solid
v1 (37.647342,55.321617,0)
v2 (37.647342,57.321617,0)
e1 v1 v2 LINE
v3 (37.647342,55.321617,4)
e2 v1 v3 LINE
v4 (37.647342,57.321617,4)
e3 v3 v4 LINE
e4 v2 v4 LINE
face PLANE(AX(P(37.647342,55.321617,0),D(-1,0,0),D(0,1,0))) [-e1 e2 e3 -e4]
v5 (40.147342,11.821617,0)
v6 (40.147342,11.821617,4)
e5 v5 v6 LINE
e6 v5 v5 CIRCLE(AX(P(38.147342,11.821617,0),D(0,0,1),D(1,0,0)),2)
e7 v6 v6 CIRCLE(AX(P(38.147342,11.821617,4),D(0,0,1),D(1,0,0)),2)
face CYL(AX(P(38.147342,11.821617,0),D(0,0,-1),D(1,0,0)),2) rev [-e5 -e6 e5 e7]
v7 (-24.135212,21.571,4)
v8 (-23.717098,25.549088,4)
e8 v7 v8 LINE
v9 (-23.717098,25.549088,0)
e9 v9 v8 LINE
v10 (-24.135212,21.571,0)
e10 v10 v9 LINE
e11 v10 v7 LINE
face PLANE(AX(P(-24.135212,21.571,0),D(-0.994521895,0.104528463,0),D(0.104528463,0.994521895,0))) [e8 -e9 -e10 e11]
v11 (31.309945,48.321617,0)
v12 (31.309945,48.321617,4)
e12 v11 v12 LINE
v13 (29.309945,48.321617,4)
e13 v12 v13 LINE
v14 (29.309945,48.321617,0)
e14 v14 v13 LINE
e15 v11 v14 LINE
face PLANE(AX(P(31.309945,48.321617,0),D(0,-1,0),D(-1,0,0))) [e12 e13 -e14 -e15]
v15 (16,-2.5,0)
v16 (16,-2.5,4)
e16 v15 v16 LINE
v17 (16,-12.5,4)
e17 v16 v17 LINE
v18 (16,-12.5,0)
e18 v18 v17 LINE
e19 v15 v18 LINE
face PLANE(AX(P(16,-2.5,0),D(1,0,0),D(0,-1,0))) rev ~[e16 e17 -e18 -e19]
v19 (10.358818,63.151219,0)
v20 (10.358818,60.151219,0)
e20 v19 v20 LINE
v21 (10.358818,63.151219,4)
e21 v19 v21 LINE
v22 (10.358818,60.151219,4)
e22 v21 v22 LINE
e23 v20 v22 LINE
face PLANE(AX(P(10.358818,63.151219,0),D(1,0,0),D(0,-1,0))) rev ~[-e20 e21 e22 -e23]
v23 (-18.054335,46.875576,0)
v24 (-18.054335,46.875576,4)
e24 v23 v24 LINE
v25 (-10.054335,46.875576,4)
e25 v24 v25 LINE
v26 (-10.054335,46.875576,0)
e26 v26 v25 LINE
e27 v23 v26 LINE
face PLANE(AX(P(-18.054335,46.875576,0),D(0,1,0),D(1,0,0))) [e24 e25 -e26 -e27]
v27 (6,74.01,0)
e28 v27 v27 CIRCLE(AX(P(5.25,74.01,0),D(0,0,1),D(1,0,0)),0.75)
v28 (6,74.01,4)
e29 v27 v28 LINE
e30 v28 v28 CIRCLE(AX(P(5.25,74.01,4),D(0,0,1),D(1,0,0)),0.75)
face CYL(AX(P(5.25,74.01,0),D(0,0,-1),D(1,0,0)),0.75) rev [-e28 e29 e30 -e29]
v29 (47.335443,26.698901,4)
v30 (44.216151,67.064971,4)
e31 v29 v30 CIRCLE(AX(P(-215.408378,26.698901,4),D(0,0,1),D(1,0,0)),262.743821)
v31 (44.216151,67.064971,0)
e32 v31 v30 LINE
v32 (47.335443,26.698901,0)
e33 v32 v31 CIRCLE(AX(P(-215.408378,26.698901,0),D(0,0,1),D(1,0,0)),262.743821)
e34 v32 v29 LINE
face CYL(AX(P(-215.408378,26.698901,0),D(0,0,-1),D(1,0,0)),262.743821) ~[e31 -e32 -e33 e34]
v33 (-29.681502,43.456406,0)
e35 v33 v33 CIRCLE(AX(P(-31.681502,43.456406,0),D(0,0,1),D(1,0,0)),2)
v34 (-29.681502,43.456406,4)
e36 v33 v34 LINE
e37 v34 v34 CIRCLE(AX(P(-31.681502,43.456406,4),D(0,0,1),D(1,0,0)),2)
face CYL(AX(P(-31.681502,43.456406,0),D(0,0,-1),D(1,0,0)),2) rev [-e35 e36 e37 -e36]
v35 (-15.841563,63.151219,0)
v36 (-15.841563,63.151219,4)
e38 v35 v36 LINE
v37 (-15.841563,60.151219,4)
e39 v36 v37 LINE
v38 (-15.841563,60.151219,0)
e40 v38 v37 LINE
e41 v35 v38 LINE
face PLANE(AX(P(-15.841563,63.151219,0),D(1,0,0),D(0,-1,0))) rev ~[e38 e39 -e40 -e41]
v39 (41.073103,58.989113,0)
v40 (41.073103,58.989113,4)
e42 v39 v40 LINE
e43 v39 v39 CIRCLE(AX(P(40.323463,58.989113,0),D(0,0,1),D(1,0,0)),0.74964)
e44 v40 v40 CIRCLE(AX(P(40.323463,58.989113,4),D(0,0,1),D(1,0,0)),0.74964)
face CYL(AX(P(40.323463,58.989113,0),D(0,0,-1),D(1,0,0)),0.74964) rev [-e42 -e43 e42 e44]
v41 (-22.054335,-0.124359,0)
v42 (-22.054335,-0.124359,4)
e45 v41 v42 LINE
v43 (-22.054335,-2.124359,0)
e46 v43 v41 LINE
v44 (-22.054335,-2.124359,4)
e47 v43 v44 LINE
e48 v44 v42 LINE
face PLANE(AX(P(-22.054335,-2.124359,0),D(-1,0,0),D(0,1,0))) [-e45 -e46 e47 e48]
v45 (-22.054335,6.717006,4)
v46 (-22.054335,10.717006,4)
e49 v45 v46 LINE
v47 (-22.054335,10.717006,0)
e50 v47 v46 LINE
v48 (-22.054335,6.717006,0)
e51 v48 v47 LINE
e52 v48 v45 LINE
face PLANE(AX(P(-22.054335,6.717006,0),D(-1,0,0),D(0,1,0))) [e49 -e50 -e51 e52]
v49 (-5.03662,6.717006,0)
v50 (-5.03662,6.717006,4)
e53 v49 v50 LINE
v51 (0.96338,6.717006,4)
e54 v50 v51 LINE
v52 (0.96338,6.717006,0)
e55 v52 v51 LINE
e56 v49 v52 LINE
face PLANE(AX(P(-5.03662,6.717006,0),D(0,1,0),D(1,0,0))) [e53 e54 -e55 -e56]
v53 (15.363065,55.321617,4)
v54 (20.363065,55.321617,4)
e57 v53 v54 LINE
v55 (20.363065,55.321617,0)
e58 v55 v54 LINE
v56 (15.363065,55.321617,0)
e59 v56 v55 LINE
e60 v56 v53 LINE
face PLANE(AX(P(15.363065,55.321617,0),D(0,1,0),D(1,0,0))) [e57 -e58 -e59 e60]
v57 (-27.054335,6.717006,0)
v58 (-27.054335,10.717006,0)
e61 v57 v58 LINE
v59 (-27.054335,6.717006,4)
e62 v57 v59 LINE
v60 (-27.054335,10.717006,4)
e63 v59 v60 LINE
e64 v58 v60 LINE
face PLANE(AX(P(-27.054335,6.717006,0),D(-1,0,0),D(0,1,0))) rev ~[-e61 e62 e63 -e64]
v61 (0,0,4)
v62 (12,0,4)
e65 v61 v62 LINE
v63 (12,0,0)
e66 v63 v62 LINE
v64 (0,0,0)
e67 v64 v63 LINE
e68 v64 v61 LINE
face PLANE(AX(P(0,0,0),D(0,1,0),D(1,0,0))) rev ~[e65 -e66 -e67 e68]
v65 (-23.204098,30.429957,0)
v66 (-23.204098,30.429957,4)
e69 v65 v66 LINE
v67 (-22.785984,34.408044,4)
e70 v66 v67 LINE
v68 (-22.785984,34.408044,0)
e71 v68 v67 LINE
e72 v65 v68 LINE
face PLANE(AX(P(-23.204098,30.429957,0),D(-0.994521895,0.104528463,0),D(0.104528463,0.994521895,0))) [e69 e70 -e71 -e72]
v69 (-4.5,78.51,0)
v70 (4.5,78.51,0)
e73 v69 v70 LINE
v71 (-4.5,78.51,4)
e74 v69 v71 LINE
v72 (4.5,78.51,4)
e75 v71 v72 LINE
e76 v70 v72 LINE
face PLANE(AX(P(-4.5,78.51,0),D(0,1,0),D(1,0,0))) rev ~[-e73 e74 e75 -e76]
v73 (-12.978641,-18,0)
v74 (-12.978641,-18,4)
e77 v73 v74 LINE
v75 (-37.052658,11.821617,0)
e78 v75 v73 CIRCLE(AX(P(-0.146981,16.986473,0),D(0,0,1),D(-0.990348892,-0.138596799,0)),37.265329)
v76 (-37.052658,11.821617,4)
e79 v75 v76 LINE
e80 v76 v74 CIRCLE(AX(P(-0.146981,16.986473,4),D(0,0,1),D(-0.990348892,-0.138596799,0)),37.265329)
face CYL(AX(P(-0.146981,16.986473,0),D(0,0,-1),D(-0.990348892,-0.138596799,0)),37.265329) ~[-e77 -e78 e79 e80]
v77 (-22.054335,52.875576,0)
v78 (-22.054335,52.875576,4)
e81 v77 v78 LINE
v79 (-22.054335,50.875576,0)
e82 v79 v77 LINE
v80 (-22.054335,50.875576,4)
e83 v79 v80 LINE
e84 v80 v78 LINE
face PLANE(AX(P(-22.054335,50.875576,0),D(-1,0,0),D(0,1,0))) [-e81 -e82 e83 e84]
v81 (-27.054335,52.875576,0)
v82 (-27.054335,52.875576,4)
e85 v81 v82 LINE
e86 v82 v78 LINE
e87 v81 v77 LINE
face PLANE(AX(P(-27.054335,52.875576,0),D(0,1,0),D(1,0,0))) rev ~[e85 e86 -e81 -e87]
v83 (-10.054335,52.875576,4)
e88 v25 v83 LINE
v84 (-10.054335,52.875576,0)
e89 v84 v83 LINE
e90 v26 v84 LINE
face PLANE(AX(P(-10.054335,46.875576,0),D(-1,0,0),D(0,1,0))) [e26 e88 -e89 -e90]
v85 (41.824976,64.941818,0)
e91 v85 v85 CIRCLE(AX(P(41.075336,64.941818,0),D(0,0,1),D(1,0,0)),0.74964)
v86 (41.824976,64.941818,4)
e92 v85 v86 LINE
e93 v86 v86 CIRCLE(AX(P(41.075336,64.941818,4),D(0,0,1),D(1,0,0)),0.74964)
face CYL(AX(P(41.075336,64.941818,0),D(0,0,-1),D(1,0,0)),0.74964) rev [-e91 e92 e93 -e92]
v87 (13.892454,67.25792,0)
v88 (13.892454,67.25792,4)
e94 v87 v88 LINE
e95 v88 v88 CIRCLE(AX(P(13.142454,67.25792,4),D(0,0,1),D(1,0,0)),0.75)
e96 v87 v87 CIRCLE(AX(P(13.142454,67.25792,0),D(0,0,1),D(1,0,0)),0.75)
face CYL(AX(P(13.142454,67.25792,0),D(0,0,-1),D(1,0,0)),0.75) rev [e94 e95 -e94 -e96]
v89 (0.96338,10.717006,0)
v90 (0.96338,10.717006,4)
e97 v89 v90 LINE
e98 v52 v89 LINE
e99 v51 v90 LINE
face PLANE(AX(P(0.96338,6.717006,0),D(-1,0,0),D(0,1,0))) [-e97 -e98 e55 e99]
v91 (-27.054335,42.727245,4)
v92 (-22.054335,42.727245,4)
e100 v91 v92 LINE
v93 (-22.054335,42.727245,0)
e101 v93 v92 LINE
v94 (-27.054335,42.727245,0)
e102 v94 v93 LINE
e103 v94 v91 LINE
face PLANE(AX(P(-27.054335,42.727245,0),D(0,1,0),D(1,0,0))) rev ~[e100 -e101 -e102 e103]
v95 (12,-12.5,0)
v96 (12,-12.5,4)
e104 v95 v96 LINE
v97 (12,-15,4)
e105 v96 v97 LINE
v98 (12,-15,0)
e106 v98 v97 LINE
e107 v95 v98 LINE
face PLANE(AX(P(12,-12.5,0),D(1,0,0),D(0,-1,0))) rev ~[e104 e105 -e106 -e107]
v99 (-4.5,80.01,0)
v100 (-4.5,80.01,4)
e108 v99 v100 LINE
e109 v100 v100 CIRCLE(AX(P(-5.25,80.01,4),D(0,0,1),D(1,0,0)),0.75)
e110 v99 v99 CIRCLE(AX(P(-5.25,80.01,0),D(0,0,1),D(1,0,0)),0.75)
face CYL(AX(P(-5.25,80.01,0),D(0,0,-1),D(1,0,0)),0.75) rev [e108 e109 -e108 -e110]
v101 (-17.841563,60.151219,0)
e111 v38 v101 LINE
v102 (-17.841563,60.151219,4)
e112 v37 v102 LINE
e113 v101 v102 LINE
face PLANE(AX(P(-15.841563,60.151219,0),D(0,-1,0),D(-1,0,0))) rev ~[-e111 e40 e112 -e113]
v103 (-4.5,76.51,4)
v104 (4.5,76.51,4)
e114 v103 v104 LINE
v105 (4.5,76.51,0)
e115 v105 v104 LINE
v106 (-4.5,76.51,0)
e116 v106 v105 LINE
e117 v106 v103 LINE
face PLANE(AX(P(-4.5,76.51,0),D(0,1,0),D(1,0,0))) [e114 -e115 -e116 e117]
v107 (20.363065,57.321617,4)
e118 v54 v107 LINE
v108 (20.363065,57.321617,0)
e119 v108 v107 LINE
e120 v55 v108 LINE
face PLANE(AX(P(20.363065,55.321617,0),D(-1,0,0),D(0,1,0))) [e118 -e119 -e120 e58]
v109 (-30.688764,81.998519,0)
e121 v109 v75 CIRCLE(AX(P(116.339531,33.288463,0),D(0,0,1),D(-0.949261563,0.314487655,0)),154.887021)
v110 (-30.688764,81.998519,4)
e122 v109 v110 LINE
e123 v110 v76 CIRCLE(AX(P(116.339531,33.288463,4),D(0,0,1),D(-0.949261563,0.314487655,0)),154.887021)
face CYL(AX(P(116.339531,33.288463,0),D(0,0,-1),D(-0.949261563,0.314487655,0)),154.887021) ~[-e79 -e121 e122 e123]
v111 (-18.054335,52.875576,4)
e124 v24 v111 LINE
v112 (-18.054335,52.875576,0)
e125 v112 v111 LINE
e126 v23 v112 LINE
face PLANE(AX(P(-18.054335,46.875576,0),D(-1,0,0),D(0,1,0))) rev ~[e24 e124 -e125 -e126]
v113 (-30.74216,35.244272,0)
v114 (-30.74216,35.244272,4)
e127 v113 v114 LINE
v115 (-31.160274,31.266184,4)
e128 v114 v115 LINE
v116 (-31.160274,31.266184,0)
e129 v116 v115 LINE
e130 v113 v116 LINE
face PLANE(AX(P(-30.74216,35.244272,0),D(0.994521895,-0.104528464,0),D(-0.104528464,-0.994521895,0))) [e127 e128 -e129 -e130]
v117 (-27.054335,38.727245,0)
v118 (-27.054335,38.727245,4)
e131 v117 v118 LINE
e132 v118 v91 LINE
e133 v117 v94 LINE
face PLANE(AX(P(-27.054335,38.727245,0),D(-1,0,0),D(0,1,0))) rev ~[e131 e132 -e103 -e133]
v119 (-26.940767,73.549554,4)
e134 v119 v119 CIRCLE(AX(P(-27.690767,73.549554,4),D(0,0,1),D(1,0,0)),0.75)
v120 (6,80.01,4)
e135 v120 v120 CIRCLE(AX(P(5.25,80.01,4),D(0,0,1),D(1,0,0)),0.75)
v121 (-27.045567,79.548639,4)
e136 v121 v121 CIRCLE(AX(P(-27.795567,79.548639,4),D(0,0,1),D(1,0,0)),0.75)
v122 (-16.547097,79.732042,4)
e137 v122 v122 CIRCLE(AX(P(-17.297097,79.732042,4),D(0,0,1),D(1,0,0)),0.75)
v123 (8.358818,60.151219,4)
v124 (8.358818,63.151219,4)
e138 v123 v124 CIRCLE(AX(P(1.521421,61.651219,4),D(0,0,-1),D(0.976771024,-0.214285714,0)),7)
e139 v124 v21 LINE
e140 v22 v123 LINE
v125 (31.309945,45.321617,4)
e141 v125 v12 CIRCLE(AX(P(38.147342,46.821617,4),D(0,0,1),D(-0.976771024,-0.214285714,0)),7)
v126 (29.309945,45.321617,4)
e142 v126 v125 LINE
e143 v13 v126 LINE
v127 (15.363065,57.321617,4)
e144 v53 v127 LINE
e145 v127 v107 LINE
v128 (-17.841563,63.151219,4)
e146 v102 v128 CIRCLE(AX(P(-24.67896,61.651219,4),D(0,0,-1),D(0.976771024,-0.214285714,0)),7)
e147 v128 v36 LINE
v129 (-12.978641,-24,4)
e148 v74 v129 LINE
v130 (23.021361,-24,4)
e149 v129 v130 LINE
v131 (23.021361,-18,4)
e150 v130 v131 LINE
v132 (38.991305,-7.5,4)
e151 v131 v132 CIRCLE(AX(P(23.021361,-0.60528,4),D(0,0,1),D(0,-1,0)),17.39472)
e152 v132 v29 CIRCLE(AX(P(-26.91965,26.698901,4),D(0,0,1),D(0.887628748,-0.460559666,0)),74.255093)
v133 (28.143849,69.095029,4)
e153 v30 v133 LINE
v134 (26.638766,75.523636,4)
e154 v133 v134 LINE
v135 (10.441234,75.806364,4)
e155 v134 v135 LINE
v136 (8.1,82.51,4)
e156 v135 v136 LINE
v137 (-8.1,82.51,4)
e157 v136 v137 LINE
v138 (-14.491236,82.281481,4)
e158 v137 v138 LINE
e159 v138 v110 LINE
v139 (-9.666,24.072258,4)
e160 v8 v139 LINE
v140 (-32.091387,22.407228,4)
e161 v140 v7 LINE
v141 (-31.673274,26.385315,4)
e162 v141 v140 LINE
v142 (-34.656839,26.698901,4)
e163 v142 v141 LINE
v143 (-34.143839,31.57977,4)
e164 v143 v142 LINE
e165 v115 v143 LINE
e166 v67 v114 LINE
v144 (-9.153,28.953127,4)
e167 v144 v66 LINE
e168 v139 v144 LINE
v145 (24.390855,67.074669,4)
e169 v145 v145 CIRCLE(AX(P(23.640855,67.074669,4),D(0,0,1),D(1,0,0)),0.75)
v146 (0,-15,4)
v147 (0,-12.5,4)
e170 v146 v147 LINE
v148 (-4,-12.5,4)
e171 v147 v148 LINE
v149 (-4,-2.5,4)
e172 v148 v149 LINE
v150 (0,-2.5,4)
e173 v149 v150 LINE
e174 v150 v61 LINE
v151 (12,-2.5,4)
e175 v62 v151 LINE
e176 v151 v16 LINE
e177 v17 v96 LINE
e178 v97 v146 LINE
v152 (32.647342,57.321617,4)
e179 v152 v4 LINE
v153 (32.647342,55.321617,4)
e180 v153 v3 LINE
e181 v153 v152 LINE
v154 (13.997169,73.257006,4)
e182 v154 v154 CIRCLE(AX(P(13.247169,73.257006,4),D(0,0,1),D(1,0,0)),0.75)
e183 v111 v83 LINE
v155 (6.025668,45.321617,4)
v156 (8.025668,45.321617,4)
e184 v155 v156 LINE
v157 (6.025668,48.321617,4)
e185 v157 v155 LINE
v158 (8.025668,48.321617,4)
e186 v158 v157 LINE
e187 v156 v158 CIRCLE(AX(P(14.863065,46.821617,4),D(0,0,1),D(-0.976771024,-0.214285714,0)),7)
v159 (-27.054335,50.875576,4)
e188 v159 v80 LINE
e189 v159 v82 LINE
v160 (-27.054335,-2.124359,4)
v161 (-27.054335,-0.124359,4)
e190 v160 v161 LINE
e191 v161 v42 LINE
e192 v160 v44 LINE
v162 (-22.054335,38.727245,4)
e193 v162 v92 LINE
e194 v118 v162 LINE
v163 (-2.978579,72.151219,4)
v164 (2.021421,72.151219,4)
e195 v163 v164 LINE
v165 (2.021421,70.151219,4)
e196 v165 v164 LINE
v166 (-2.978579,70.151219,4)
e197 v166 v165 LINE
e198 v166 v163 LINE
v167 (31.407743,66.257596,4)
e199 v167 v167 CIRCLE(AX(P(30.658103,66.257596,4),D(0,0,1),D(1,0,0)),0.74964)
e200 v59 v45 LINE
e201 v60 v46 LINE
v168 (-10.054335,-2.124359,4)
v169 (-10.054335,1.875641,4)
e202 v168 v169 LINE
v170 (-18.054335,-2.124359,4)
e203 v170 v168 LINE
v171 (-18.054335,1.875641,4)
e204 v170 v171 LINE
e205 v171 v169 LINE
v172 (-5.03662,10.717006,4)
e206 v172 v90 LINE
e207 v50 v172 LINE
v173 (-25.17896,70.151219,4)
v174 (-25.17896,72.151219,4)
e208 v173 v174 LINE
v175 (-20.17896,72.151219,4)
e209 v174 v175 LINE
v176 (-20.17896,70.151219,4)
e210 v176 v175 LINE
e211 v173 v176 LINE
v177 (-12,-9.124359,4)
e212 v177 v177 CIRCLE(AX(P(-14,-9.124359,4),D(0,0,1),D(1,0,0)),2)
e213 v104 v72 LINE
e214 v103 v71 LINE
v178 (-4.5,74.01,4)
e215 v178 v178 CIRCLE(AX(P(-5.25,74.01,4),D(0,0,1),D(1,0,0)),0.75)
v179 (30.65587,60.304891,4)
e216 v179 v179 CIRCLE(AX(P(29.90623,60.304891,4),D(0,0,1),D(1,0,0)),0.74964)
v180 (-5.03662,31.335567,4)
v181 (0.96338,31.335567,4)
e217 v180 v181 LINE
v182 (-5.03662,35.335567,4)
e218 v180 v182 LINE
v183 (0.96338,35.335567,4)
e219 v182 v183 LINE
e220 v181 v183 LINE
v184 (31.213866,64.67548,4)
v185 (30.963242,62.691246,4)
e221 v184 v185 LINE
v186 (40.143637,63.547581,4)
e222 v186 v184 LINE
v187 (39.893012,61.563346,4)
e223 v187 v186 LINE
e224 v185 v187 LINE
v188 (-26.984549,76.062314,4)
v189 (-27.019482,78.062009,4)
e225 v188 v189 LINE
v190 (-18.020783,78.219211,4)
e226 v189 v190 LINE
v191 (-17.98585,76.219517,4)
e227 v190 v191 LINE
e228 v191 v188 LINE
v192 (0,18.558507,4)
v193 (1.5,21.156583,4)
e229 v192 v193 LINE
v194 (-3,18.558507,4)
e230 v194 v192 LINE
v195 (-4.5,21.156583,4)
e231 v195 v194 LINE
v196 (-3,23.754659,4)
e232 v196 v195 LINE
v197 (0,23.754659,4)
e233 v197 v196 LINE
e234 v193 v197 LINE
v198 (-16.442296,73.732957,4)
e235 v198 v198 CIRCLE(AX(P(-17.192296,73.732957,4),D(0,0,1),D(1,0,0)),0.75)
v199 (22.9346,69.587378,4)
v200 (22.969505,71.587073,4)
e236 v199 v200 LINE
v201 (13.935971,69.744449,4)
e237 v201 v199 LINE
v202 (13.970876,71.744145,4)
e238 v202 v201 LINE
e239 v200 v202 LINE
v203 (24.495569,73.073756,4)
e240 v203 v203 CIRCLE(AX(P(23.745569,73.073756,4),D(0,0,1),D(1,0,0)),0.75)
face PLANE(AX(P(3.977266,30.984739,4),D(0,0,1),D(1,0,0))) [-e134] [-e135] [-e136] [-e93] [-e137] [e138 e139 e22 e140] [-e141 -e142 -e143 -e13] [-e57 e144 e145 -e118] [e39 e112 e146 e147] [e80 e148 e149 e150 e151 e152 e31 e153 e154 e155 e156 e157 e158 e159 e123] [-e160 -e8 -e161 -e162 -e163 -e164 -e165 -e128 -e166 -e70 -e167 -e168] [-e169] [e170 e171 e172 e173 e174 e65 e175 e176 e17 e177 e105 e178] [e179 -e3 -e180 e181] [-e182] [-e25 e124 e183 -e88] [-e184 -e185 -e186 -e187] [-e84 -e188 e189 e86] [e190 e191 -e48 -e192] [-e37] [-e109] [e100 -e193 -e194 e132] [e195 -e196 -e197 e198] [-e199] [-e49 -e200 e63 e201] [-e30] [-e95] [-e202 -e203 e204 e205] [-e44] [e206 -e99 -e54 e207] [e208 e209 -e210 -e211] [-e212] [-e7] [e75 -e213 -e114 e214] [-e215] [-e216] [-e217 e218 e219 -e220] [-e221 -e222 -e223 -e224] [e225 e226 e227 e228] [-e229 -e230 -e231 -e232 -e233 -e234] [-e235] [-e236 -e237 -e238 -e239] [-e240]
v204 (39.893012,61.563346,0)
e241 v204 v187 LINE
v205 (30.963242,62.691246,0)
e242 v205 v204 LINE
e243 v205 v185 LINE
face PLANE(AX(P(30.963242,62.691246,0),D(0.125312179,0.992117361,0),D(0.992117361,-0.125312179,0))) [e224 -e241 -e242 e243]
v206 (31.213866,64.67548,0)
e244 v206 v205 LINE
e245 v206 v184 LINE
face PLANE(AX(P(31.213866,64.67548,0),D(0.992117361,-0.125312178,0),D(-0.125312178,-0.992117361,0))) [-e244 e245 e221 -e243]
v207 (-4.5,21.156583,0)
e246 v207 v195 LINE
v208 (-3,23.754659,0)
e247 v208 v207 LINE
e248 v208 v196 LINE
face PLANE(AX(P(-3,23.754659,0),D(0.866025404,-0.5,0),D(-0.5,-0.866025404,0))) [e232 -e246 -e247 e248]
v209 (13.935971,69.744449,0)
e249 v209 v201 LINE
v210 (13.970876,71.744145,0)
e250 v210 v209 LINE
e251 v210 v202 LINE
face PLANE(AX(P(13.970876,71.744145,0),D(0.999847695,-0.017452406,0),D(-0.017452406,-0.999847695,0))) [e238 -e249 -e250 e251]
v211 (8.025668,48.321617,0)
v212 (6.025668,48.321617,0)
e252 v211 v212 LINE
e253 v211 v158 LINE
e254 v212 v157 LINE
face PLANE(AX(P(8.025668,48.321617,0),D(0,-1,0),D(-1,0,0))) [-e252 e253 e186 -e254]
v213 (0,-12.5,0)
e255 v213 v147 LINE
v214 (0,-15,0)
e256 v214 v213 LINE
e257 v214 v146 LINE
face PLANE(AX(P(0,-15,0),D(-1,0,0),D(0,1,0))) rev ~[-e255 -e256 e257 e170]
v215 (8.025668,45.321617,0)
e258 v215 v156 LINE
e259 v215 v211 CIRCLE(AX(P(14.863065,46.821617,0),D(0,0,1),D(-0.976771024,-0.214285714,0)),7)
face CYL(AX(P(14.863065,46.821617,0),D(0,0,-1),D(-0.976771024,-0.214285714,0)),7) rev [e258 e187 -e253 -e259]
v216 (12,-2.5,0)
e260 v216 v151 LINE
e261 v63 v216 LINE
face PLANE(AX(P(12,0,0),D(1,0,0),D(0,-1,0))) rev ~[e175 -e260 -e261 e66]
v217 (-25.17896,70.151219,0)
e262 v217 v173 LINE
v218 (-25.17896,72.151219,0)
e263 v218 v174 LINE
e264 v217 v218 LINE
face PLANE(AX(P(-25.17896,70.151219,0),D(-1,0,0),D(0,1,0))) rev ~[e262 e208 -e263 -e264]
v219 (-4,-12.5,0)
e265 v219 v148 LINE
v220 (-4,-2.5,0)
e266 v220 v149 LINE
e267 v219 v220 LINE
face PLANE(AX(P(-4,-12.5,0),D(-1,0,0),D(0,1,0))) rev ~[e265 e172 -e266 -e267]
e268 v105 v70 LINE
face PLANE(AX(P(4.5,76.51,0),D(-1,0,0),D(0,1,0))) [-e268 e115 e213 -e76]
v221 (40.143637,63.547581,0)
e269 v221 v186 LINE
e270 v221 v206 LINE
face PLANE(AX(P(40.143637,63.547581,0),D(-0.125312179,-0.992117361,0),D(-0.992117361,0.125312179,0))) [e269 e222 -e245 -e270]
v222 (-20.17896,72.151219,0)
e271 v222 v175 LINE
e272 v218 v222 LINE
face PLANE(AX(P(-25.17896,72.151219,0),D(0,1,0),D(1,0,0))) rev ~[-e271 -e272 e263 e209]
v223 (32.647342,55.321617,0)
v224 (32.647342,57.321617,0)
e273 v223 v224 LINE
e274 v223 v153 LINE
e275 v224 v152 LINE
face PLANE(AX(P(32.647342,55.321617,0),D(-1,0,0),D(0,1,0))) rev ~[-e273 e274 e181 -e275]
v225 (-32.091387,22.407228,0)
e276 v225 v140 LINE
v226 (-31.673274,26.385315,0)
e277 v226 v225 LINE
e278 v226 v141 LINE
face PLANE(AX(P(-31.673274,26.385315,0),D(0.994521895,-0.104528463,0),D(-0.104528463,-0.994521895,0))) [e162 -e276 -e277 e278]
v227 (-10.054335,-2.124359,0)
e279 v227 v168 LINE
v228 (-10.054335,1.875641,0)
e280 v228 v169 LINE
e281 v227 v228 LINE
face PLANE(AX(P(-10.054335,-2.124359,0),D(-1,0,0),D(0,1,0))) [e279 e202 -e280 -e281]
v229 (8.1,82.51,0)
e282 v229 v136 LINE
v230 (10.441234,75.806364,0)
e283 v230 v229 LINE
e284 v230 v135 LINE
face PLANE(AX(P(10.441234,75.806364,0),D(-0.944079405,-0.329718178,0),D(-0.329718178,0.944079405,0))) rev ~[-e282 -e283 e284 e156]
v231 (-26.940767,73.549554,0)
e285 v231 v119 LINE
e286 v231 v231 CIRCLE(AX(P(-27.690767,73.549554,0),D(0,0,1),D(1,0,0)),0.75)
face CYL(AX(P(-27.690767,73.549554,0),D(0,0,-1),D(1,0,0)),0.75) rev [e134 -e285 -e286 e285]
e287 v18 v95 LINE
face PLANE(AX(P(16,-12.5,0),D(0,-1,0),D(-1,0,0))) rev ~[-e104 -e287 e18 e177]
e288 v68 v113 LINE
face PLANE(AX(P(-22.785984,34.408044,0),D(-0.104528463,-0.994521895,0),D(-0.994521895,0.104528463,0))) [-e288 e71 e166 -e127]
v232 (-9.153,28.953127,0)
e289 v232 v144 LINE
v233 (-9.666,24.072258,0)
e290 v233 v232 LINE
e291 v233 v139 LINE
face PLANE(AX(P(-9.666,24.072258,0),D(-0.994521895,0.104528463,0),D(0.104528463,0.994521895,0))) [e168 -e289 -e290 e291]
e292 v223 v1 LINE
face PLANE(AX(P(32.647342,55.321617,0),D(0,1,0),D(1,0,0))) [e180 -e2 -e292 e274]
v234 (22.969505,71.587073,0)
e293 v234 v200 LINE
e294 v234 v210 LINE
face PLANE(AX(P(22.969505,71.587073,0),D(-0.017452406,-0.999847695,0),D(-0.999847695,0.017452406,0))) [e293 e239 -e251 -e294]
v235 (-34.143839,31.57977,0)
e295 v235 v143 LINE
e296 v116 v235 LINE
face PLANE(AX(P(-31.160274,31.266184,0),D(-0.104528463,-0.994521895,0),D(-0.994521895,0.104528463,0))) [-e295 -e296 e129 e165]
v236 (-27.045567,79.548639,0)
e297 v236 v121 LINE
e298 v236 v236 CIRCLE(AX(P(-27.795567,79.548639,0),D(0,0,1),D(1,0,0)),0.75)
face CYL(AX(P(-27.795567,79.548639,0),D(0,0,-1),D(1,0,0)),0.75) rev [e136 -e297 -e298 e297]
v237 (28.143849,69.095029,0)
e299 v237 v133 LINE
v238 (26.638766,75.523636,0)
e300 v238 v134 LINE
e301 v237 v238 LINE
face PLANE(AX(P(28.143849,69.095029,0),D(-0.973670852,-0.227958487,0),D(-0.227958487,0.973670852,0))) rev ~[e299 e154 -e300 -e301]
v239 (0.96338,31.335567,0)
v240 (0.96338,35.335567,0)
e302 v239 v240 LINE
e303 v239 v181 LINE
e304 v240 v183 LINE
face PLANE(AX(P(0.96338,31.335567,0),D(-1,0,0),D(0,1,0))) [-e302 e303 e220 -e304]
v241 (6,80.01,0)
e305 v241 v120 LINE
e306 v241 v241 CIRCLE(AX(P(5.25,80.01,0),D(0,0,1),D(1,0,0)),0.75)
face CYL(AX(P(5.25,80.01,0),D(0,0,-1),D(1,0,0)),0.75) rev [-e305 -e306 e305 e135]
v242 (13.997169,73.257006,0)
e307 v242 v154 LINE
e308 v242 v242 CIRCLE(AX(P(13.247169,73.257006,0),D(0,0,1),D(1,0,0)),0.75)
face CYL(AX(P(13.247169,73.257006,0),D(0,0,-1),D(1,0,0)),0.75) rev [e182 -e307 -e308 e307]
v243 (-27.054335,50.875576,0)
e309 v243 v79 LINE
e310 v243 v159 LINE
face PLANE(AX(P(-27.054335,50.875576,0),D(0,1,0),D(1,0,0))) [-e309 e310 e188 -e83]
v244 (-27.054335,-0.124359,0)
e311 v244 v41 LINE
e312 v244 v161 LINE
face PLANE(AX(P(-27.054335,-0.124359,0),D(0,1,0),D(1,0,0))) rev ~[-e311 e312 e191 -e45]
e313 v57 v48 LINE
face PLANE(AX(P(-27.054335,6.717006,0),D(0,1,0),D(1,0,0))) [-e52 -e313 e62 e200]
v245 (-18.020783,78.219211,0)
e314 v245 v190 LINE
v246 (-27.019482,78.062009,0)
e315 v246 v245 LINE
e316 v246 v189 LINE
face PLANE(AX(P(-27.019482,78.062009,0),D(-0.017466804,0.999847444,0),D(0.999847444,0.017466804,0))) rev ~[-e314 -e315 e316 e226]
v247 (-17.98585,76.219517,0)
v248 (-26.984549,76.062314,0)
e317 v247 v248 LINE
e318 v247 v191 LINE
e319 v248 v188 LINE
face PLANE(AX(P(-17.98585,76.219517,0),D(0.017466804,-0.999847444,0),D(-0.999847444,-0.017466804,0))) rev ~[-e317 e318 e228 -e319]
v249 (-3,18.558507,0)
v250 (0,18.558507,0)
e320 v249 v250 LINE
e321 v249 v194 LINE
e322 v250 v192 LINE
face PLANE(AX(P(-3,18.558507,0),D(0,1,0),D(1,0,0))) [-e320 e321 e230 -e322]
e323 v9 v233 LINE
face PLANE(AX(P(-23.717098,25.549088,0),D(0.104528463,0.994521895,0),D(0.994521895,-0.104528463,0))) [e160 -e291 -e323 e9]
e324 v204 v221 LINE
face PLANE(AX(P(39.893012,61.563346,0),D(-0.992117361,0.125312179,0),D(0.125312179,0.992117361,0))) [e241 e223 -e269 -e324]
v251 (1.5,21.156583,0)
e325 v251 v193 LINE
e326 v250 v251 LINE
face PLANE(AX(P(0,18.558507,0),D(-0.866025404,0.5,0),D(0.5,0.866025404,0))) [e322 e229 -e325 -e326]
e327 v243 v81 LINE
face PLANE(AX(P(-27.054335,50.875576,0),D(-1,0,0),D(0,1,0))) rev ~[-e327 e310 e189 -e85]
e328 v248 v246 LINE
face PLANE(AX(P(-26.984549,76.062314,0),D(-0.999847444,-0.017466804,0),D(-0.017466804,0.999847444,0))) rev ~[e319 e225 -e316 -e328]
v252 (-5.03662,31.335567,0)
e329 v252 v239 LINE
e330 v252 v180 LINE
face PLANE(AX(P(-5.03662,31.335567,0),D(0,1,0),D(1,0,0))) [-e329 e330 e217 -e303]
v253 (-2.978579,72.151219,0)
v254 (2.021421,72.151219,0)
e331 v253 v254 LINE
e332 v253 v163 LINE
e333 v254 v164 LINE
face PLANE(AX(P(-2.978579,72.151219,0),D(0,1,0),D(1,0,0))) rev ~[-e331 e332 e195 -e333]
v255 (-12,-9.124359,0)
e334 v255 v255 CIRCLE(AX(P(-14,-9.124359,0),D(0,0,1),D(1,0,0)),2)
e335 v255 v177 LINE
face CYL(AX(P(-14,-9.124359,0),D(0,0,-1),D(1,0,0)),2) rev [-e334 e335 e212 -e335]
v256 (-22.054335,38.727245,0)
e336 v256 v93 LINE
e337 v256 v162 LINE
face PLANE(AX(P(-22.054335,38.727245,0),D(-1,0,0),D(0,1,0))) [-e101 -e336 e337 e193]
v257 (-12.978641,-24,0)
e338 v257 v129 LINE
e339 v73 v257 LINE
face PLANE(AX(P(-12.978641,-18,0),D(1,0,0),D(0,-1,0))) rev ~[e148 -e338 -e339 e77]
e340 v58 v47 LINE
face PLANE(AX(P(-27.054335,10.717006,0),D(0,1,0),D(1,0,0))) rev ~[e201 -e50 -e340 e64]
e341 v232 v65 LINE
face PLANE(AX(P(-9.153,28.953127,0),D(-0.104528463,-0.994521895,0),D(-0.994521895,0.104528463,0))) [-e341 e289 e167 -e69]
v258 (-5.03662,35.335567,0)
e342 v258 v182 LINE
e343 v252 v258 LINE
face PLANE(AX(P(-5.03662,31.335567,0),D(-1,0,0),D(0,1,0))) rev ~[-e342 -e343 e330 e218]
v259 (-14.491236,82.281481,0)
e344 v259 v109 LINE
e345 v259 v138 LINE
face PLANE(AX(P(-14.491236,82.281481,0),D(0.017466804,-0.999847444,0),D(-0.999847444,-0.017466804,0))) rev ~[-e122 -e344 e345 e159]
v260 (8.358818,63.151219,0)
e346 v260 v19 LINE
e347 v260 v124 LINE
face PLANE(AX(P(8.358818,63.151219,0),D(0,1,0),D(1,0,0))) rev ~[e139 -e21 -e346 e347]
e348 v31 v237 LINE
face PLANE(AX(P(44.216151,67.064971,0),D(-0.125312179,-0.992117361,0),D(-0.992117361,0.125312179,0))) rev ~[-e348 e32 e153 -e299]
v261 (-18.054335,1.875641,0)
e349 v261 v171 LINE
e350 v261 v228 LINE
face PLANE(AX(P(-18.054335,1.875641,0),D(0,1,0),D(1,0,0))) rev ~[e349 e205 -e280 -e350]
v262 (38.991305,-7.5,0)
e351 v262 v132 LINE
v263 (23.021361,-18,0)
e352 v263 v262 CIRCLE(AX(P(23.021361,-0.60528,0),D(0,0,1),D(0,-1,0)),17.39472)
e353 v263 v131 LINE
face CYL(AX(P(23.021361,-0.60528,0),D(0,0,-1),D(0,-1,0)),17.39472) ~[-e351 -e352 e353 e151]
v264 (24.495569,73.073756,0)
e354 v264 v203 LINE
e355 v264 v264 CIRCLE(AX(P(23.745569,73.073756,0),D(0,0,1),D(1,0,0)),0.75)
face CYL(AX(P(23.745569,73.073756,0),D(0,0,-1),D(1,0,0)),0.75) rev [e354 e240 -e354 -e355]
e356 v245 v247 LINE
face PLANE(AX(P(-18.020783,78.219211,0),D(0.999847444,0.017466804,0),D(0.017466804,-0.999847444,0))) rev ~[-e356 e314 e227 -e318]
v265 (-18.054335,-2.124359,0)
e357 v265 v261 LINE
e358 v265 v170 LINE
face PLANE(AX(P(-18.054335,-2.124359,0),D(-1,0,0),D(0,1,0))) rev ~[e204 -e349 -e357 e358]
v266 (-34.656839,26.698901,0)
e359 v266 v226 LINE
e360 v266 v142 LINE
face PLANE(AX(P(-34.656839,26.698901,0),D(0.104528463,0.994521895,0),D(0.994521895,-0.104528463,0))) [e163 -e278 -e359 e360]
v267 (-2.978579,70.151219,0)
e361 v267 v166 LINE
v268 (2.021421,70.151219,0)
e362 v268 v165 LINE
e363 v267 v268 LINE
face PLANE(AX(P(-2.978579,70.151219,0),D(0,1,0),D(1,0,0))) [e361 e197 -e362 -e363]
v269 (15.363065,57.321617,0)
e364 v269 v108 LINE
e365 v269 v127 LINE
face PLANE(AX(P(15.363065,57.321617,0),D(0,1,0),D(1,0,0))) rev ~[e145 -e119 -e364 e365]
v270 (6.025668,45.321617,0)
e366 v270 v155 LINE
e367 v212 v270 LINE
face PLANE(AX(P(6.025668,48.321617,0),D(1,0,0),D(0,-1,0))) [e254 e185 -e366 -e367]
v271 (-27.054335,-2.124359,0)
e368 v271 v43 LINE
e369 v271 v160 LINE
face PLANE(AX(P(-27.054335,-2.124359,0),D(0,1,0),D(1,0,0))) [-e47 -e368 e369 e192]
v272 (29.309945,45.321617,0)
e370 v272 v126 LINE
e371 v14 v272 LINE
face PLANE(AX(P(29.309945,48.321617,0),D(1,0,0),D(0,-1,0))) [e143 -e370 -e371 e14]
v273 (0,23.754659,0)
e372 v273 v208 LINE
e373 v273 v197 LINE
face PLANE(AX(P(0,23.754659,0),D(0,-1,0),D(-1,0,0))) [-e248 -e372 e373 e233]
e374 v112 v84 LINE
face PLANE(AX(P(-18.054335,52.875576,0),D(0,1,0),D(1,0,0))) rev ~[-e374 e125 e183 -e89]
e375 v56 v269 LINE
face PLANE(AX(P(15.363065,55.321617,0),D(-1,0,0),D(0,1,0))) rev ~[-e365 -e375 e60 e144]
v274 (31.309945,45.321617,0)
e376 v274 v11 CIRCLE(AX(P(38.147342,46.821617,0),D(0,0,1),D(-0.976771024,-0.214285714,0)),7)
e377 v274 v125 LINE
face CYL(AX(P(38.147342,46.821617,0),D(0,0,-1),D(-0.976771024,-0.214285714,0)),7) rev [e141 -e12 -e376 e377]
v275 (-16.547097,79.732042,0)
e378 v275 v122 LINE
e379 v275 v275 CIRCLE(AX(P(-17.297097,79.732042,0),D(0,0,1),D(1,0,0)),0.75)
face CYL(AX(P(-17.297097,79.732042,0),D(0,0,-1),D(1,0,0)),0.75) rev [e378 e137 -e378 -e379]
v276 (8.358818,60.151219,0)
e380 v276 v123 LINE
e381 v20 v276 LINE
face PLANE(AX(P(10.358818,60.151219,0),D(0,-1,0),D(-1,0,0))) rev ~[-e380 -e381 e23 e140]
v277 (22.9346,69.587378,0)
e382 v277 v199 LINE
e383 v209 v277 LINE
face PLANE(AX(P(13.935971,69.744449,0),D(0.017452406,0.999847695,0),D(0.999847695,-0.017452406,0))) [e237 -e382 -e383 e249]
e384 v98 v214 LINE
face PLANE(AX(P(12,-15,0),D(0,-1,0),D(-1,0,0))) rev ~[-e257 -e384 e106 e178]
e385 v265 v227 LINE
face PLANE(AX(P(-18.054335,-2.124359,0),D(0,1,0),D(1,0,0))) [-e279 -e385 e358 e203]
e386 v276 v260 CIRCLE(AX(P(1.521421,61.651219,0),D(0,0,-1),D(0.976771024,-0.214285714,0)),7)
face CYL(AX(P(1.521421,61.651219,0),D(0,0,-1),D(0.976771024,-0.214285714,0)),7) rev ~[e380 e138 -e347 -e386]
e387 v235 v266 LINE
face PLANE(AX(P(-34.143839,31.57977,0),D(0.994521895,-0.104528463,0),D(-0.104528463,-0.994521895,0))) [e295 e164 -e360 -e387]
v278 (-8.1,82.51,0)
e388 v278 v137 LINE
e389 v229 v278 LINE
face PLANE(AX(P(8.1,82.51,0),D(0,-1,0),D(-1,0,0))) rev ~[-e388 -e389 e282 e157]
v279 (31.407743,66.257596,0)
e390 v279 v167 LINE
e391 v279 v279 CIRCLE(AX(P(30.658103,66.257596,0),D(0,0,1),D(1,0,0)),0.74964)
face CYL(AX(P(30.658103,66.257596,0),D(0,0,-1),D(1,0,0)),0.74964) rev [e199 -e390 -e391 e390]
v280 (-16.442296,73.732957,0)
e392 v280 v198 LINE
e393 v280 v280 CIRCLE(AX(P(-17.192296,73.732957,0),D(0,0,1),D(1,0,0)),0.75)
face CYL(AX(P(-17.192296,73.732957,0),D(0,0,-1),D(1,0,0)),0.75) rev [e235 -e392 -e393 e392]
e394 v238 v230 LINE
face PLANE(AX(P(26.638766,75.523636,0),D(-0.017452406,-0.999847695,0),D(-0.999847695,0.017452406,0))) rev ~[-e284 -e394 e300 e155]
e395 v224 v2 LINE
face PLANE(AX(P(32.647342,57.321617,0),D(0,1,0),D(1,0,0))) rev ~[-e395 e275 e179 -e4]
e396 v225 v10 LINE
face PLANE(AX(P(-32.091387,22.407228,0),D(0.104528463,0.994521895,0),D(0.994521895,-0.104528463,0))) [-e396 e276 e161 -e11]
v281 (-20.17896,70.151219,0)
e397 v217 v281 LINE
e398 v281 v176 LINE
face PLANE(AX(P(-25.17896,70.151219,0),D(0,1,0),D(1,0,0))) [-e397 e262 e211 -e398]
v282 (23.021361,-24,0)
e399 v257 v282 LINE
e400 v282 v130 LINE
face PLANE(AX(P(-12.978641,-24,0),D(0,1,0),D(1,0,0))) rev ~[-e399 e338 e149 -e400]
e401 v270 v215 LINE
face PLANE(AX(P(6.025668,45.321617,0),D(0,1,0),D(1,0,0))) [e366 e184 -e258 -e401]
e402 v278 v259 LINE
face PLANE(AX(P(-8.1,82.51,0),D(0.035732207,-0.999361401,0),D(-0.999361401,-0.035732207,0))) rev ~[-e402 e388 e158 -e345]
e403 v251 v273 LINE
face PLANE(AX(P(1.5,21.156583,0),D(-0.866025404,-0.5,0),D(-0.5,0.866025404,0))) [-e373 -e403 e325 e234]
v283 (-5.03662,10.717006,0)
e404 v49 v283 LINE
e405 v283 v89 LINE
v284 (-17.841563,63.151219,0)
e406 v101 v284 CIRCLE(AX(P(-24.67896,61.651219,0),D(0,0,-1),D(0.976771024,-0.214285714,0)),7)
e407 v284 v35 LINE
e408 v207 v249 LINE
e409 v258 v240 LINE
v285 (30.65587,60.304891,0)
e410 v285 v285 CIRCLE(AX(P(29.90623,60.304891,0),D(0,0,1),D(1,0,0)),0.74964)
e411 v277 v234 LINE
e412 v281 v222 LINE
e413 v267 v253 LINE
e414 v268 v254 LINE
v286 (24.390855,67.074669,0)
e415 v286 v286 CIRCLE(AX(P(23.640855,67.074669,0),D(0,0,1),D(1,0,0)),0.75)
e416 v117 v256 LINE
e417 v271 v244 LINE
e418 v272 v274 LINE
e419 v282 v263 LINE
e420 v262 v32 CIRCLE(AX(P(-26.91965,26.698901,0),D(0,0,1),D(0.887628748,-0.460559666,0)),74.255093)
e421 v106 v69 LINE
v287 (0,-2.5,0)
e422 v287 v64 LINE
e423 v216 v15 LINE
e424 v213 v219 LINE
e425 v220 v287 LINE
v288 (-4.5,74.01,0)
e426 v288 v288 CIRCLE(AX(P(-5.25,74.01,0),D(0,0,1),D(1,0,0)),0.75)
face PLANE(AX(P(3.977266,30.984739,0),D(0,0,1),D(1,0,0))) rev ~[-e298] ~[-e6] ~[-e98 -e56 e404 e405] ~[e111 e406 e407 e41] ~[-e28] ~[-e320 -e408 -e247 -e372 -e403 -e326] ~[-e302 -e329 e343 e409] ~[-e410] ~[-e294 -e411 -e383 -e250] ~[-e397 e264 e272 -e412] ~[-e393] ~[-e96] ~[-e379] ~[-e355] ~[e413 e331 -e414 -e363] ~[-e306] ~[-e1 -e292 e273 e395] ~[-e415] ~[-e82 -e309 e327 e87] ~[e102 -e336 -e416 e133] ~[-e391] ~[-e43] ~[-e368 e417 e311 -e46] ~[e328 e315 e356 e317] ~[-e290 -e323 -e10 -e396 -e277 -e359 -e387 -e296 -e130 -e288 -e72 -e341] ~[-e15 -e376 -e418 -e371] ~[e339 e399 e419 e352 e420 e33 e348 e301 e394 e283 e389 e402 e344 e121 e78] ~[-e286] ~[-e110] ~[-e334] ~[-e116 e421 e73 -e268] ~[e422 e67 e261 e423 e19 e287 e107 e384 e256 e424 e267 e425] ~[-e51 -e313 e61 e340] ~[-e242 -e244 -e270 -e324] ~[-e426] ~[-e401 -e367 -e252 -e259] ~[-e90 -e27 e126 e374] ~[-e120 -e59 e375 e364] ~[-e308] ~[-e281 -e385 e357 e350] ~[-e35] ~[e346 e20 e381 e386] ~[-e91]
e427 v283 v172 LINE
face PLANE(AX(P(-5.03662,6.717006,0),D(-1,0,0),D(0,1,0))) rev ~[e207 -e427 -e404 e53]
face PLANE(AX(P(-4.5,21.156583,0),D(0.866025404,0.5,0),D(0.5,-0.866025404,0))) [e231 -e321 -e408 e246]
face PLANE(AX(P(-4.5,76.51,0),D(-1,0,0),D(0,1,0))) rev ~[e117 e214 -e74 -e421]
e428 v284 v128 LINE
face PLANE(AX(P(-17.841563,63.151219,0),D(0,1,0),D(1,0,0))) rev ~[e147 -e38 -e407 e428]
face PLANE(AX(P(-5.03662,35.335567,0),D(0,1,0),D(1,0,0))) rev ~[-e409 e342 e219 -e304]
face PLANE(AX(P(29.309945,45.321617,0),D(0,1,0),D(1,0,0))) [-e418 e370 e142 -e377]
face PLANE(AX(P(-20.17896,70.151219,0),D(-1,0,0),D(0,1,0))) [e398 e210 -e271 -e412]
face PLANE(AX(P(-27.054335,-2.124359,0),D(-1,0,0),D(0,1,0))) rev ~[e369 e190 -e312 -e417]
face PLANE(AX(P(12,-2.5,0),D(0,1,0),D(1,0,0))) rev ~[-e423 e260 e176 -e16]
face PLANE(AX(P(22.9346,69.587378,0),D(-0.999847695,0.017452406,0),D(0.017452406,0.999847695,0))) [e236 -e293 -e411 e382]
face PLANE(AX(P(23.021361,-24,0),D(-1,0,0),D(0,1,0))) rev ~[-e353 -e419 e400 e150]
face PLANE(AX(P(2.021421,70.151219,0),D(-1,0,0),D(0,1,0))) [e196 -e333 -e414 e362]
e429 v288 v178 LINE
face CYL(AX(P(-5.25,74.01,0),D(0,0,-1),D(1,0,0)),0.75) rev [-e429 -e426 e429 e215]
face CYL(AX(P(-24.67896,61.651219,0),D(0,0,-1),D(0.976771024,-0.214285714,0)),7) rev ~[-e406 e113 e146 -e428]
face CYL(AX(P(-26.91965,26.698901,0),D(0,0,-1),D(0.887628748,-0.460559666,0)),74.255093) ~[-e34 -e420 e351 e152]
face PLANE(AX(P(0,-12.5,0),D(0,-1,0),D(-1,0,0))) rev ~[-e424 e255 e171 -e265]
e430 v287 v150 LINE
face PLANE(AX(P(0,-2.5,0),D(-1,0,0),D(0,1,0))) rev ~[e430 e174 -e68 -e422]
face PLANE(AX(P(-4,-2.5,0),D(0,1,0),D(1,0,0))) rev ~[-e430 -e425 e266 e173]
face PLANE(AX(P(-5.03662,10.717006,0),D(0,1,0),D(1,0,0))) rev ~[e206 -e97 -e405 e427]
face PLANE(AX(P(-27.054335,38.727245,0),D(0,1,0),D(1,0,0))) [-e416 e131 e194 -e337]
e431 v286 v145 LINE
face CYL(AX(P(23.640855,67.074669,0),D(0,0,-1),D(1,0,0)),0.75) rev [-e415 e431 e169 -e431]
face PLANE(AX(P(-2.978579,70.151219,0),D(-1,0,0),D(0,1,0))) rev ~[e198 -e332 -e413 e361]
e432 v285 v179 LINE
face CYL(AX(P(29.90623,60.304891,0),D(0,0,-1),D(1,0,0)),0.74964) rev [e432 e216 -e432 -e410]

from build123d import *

# Parameters (mm, degrees)
SKETCH1_R           = 2
SKETCH1_R_2         = 0.75
SKETCH1_R_3         = 0.74964
SKETCH1_W           = 9
SKETCH1_H           = 2.000000357
SKETCH1_W_2         = 5
SKETCH1_H_2         = 2
SKETCH1_W_3         = 8
SKETCH1_H_3         = 6.000000353
SKETCH1_H_4         = 4
SKETCH1_W_4         = 6.000000352
BOSS_EXTRUDE1_DEPTH = 4


with BuildPart() as part:
    # Sketch1 → Boss-Extrude1 (new body)
    with BuildSketch(Plane.XY):
        with BuildLine():
            Line((-12.978641063, -17.999999648), (-12.978641063, -24))
            Line((-12.978641063, -24), (23.021361236, -24))
            Line((23.021361236, -24), (23.021361236, -17.999999648))
            ThreePointArc((23.021361236, -17.999999648), (32.577630228, -15.139859344), (38.991305368, -7.5))
            ThreePointArc((38.991305368, -7.5), (45.219254131, 9.097839331), (47.3354431, 26.698900677))
            ThreePointArc((47.3354431, 26.698900677), (46.554459277, 46.942107237), (44.216150624, 67.064971353))
            Line((44.216150624, 67.064971353), (28.143849376, 69.095028647))
            Line((28.143849376, 69.095028647), (26.638766331, 75.523635508))
            Line((26.638766331, 75.523635508), (10.441233669, 75.806364492))
            Line((10.441233669, 75.806364492), (8.1, 82.51))
            Line((8.1, 82.51), (-8.1, 82.51))
            Line((-8.1, 82.51), (-14.491235706, 82.281481113))
            Line((-14.491235706, 82.281481113), (-30.688764294, 81.998518887))
            ThreePointArc((-30.688764294, 81.998518887), (-37.914532987, 47.276776451), (-37.052658257, 11.821617405))
            ThreePointArc((-37.052658257, 11.821617405), (-29.143237496, -6.421257936), (-12.978641063, -17.999999648))
        make_face()
        with Locations((38.147341743, 11.821617405)):
            Circle(SKETCH1_R, mode=Mode.SUBTRACT)
        with Locations((-14, -9.124358764)):
            Circle(SKETCH1_R, mode=Mode.SUBTRACT)
        with Locations((-5.25, 80.01)):
            Circle(SKETCH1_R_2, mode=Mode.SUBTRACT)
        with Locations((-31.681501662, 43.456405989)):
            Circle(SKETCH1_R, mode=Mode.SUBTRACT)
        with Locations((5.25, 80.01)):
            Circle(SKETCH1_R_2, mode=Mode.SUBTRACT)
        with Locations((5.25, 74.01)):
            Circle(SKETCH1_R_2, mode=Mode.SUBTRACT)
        with Locations((-5.25, 74.01)):
            Circle(SKETCH1_R_2, mode=Mode.SUBTRACT)
        with Locations((-27.795567347, 79.548639007)):
            Circle(SKETCH1_R_2, mode=Mode.SUBTRACT)
        with Locations((-17.297097199, 79.732041708)):
            Circle(SKETCH1_R_2, mode=Mode.SUBTRACT)
        with Locations((-27.690766522, 73.549554345)):
            Circle(SKETCH1_R_2, mode=Mode.SUBTRACT)
        with Locations((-17.192296374, 73.732957046)):
            Circle(SKETCH1_R_2, mode=Mode.SUBTRACT)
        with Locations((23.640854945, 67.074669457)):
            Circle(SKETCH1_R_2, mode=Mode.SUBTRACT)
        with Locations((13.142454146, 67.257919725)):
            Circle(SKETCH1_R_2, mode=Mode.SUBTRACT)
        with Locations((23.745569383, 73.073755628)):
            Circle(SKETCH1_R_2, mode=Mode.SUBTRACT)
        with Locations((13.247168584, 73.257005896)):
            Circle(SKETCH1_R_2, mode=Mode.SUBTRACT)
        with Locations((29.906230336, 60.30489137)):
            Circle(SKETCH1_R_3, mode=Mode.SUBTRACT)
        with Locations((41.075335698, 64.94181766)):
            Circle(SKETCH1_R_3, mode=Mode.SUBTRACT)
        with Locations((30.658103408, 66.257595536)):
            Circle(SKETCH1_R_3, mode=Mode.SUBTRACT)
        with Locations((40.323462626, 58.989113494)):
            Circle(SKETCH1_R_3, mode=Mode.SUBTRACT)
        with Locations((0, 77.509999822)):
            Rectangle(SKETCH1_W, SKETCH1_H, mode=Mode.SUBTRACT)
        Polygon((-9.666, 24.072257636), (-9.153, 28.953126601), (-23.204098338, 30.429956546), (-22.785984485, 34.408044128), (-30.742159647, 35.244271834), (-31.160273501, 31.266184253), (-34.143839187, 31.579769642), (-34.656839187, 26.698900677), (-31.673273501, 26.385315288), (-32.091387354, 22.407227706), (-24.135212191, 21.571), (-23.717098338, 25.549087581), align=None, mode=Mode.SUBTRACT)
        with BuildLine():
            Line((10.358817838, 63.151218734), (10.358817838, 60.151218734))
            Line((10.358817838, 60.151218734), (8.358817838, 60.151218734))
            ThreePointArc((8.358817838, 60.151218734), (-5.478579327, 61.651218734), (8.358817838, 63.151218734))
            Line((8.358817838, 63.151218734), (10.358817838, 63.151218734))
        make_face(mode=Mode.SUBTRACT)
        with Locations((35.147341743, 56.321617405)):
            Rectangle(SKETCH1_W_2, SKETCH1_H_2, mode=Mode.SUBTRACT)
        with BuildLine():
            Line((-17.84156291, 63.151218734), (-15.84156291, 63.151218734))
            Line((-15.84156291, 63.151218734), (-15.84156291, 60.151218734))
            Line((-15.84156291, 60.151218734), (-17.84156291, 60.151218734))
            ThreePointArc((-17.84156291, 60.151218734), (-31.678960076, 61.651218734), (-17.84156291, 63.151218734))
        make_face(mode=Mode.SUBTRACT)
        Polygon((-27.019482275, 78.062008978), (-18.020783292, 78.219211472), (-17.985849684, 76.219516585), (-26.984548667, 76.06231409), align=None, mode=Mode.SUBTRACT)
        with Locations((-14.054335075, 49.87557619)):
            Rectangle(SKETCH1_W_3, SKETCH1_H_3, mode=Mode.SUBTRACT)
        with Locations((17.86306514, 56.321617405)):
            Rectangle(SKETCH1_W_2, SKETCH1_H_2, mode=Mode.SUBTRACT)
        with Locations((-0.478579327, 71.151218734)):
            Rectangle(SKETCH1_W_2, SKETCH1_H_2, mode=Mode.SUBTRACT)
        Polygon((13.970875746, 71.744145048), (13.935970927, 69.744449301), (22.934600183, 69.587377643), (22.969505002, 71.58707339), align=None, mode=Mode.SUBTRACT)
        with BuildLine():
            Line((8.025667975, 48.321617405), (6.025667975, 48.321617405))
            Line((6.025667975, 48.321617405), (6.025667975, 45.321617405))
            Line((6.025667975, 45.321617405), (8.025667975, 45.321617405))
            ThreePointArc((8.025667975, 45.321617405), (21.86306514, 46.821617405), (8.025667975, 48.321617405))
        make_face(mode=Mode.SUBTRACT)
        Polygon((40.143636572, 63.54758064), (31.213865999, 64.675480473), (30.963241642, 62.691245751), (39.893012214, 61.563345918), align=None, mode=Mode.SUBTRACT)
        with BuildLine():
            Line((29.309944577, 45.321617405), (31.309944577, 45.321617405))
            ThreePointArc((31.309944577, 45.321617405), (45.147341743, 46.821617405), (31.309944577, 48.321617405))
            Line((31.309944577, 48.321617405), (29.309944577, 48.321617405))
            Line((29.309944577, 48.321617405), (29.309944577, 45.321617405))
        make_face(mode=Mode.SUBTRACT)
        with Locations((-22.678960076, 71.151218734)):
            Rectangle(SKETCH1_W_2, SKETCH1_H_2, mode=Mode.SUBTRACT)
        Polygon((-4, -2.5), (0, -2.5), (0, 0), (12, 0), (12, -2.5), (16, -2.5), (16, -12.5), (12, -12.5), (12, -15), (0, -15), (0, -12.5), (-4, -12.5), align=None, mode=Mode.SUBTRACT)
        with Locations((-24.554335075, 51.875576367)):
            Rectangle(SKETCH1_W_2, SKETCH1_H_2, mode=Mode.SUBTRACT)
        with Locations((-14.054335075, -0.124358764)):
            Rectangle(SKETCH1_W_3, SKETCH1_H_4, mode=Mode.SUBTRACT)
        with Locations((-24.554335075, -1.124358764)):
            Rectangle(SKETCH1_W_2, SKETCH1_H_2, mode=Mode.SUBTRACT)
        Polygon((0, 23.754659123), (-3, 23.754659123), (-4.5, 21.156582912), (-3, 18.5585067), (0, 18.5585067), (1.5, 21.156582912), align=None, mode=Mode.SUBTRACT)
        with Locations((-2.036620161, 8.717005814)):
            Rectangle(SKETCH1_W_4, SKETCH1_H_4, mode=Mode.SUBTRACT)
        with Locations((-2.036620161, 33.335566927)):
            Rectangle(SKETCH1_W_4, SKETCH1_H_4, mode=Mode.SUBTRACT)
        with Locations((-24.554335075, 8.717005814)):
            Rectangle(SKETCH1_W_2, SKETCH1_H_4, mode=Mode.SUBTRACT)
        with Locations((-24.554335075, 40.727245232)):
            Rectangle(SKETCH1_W_2, SKETCH1_H_4, mode=Mode.SUBTRACT)
    extrude(amount=BOSS_EXTRUDE1_DEPTH)


solid = part.part
